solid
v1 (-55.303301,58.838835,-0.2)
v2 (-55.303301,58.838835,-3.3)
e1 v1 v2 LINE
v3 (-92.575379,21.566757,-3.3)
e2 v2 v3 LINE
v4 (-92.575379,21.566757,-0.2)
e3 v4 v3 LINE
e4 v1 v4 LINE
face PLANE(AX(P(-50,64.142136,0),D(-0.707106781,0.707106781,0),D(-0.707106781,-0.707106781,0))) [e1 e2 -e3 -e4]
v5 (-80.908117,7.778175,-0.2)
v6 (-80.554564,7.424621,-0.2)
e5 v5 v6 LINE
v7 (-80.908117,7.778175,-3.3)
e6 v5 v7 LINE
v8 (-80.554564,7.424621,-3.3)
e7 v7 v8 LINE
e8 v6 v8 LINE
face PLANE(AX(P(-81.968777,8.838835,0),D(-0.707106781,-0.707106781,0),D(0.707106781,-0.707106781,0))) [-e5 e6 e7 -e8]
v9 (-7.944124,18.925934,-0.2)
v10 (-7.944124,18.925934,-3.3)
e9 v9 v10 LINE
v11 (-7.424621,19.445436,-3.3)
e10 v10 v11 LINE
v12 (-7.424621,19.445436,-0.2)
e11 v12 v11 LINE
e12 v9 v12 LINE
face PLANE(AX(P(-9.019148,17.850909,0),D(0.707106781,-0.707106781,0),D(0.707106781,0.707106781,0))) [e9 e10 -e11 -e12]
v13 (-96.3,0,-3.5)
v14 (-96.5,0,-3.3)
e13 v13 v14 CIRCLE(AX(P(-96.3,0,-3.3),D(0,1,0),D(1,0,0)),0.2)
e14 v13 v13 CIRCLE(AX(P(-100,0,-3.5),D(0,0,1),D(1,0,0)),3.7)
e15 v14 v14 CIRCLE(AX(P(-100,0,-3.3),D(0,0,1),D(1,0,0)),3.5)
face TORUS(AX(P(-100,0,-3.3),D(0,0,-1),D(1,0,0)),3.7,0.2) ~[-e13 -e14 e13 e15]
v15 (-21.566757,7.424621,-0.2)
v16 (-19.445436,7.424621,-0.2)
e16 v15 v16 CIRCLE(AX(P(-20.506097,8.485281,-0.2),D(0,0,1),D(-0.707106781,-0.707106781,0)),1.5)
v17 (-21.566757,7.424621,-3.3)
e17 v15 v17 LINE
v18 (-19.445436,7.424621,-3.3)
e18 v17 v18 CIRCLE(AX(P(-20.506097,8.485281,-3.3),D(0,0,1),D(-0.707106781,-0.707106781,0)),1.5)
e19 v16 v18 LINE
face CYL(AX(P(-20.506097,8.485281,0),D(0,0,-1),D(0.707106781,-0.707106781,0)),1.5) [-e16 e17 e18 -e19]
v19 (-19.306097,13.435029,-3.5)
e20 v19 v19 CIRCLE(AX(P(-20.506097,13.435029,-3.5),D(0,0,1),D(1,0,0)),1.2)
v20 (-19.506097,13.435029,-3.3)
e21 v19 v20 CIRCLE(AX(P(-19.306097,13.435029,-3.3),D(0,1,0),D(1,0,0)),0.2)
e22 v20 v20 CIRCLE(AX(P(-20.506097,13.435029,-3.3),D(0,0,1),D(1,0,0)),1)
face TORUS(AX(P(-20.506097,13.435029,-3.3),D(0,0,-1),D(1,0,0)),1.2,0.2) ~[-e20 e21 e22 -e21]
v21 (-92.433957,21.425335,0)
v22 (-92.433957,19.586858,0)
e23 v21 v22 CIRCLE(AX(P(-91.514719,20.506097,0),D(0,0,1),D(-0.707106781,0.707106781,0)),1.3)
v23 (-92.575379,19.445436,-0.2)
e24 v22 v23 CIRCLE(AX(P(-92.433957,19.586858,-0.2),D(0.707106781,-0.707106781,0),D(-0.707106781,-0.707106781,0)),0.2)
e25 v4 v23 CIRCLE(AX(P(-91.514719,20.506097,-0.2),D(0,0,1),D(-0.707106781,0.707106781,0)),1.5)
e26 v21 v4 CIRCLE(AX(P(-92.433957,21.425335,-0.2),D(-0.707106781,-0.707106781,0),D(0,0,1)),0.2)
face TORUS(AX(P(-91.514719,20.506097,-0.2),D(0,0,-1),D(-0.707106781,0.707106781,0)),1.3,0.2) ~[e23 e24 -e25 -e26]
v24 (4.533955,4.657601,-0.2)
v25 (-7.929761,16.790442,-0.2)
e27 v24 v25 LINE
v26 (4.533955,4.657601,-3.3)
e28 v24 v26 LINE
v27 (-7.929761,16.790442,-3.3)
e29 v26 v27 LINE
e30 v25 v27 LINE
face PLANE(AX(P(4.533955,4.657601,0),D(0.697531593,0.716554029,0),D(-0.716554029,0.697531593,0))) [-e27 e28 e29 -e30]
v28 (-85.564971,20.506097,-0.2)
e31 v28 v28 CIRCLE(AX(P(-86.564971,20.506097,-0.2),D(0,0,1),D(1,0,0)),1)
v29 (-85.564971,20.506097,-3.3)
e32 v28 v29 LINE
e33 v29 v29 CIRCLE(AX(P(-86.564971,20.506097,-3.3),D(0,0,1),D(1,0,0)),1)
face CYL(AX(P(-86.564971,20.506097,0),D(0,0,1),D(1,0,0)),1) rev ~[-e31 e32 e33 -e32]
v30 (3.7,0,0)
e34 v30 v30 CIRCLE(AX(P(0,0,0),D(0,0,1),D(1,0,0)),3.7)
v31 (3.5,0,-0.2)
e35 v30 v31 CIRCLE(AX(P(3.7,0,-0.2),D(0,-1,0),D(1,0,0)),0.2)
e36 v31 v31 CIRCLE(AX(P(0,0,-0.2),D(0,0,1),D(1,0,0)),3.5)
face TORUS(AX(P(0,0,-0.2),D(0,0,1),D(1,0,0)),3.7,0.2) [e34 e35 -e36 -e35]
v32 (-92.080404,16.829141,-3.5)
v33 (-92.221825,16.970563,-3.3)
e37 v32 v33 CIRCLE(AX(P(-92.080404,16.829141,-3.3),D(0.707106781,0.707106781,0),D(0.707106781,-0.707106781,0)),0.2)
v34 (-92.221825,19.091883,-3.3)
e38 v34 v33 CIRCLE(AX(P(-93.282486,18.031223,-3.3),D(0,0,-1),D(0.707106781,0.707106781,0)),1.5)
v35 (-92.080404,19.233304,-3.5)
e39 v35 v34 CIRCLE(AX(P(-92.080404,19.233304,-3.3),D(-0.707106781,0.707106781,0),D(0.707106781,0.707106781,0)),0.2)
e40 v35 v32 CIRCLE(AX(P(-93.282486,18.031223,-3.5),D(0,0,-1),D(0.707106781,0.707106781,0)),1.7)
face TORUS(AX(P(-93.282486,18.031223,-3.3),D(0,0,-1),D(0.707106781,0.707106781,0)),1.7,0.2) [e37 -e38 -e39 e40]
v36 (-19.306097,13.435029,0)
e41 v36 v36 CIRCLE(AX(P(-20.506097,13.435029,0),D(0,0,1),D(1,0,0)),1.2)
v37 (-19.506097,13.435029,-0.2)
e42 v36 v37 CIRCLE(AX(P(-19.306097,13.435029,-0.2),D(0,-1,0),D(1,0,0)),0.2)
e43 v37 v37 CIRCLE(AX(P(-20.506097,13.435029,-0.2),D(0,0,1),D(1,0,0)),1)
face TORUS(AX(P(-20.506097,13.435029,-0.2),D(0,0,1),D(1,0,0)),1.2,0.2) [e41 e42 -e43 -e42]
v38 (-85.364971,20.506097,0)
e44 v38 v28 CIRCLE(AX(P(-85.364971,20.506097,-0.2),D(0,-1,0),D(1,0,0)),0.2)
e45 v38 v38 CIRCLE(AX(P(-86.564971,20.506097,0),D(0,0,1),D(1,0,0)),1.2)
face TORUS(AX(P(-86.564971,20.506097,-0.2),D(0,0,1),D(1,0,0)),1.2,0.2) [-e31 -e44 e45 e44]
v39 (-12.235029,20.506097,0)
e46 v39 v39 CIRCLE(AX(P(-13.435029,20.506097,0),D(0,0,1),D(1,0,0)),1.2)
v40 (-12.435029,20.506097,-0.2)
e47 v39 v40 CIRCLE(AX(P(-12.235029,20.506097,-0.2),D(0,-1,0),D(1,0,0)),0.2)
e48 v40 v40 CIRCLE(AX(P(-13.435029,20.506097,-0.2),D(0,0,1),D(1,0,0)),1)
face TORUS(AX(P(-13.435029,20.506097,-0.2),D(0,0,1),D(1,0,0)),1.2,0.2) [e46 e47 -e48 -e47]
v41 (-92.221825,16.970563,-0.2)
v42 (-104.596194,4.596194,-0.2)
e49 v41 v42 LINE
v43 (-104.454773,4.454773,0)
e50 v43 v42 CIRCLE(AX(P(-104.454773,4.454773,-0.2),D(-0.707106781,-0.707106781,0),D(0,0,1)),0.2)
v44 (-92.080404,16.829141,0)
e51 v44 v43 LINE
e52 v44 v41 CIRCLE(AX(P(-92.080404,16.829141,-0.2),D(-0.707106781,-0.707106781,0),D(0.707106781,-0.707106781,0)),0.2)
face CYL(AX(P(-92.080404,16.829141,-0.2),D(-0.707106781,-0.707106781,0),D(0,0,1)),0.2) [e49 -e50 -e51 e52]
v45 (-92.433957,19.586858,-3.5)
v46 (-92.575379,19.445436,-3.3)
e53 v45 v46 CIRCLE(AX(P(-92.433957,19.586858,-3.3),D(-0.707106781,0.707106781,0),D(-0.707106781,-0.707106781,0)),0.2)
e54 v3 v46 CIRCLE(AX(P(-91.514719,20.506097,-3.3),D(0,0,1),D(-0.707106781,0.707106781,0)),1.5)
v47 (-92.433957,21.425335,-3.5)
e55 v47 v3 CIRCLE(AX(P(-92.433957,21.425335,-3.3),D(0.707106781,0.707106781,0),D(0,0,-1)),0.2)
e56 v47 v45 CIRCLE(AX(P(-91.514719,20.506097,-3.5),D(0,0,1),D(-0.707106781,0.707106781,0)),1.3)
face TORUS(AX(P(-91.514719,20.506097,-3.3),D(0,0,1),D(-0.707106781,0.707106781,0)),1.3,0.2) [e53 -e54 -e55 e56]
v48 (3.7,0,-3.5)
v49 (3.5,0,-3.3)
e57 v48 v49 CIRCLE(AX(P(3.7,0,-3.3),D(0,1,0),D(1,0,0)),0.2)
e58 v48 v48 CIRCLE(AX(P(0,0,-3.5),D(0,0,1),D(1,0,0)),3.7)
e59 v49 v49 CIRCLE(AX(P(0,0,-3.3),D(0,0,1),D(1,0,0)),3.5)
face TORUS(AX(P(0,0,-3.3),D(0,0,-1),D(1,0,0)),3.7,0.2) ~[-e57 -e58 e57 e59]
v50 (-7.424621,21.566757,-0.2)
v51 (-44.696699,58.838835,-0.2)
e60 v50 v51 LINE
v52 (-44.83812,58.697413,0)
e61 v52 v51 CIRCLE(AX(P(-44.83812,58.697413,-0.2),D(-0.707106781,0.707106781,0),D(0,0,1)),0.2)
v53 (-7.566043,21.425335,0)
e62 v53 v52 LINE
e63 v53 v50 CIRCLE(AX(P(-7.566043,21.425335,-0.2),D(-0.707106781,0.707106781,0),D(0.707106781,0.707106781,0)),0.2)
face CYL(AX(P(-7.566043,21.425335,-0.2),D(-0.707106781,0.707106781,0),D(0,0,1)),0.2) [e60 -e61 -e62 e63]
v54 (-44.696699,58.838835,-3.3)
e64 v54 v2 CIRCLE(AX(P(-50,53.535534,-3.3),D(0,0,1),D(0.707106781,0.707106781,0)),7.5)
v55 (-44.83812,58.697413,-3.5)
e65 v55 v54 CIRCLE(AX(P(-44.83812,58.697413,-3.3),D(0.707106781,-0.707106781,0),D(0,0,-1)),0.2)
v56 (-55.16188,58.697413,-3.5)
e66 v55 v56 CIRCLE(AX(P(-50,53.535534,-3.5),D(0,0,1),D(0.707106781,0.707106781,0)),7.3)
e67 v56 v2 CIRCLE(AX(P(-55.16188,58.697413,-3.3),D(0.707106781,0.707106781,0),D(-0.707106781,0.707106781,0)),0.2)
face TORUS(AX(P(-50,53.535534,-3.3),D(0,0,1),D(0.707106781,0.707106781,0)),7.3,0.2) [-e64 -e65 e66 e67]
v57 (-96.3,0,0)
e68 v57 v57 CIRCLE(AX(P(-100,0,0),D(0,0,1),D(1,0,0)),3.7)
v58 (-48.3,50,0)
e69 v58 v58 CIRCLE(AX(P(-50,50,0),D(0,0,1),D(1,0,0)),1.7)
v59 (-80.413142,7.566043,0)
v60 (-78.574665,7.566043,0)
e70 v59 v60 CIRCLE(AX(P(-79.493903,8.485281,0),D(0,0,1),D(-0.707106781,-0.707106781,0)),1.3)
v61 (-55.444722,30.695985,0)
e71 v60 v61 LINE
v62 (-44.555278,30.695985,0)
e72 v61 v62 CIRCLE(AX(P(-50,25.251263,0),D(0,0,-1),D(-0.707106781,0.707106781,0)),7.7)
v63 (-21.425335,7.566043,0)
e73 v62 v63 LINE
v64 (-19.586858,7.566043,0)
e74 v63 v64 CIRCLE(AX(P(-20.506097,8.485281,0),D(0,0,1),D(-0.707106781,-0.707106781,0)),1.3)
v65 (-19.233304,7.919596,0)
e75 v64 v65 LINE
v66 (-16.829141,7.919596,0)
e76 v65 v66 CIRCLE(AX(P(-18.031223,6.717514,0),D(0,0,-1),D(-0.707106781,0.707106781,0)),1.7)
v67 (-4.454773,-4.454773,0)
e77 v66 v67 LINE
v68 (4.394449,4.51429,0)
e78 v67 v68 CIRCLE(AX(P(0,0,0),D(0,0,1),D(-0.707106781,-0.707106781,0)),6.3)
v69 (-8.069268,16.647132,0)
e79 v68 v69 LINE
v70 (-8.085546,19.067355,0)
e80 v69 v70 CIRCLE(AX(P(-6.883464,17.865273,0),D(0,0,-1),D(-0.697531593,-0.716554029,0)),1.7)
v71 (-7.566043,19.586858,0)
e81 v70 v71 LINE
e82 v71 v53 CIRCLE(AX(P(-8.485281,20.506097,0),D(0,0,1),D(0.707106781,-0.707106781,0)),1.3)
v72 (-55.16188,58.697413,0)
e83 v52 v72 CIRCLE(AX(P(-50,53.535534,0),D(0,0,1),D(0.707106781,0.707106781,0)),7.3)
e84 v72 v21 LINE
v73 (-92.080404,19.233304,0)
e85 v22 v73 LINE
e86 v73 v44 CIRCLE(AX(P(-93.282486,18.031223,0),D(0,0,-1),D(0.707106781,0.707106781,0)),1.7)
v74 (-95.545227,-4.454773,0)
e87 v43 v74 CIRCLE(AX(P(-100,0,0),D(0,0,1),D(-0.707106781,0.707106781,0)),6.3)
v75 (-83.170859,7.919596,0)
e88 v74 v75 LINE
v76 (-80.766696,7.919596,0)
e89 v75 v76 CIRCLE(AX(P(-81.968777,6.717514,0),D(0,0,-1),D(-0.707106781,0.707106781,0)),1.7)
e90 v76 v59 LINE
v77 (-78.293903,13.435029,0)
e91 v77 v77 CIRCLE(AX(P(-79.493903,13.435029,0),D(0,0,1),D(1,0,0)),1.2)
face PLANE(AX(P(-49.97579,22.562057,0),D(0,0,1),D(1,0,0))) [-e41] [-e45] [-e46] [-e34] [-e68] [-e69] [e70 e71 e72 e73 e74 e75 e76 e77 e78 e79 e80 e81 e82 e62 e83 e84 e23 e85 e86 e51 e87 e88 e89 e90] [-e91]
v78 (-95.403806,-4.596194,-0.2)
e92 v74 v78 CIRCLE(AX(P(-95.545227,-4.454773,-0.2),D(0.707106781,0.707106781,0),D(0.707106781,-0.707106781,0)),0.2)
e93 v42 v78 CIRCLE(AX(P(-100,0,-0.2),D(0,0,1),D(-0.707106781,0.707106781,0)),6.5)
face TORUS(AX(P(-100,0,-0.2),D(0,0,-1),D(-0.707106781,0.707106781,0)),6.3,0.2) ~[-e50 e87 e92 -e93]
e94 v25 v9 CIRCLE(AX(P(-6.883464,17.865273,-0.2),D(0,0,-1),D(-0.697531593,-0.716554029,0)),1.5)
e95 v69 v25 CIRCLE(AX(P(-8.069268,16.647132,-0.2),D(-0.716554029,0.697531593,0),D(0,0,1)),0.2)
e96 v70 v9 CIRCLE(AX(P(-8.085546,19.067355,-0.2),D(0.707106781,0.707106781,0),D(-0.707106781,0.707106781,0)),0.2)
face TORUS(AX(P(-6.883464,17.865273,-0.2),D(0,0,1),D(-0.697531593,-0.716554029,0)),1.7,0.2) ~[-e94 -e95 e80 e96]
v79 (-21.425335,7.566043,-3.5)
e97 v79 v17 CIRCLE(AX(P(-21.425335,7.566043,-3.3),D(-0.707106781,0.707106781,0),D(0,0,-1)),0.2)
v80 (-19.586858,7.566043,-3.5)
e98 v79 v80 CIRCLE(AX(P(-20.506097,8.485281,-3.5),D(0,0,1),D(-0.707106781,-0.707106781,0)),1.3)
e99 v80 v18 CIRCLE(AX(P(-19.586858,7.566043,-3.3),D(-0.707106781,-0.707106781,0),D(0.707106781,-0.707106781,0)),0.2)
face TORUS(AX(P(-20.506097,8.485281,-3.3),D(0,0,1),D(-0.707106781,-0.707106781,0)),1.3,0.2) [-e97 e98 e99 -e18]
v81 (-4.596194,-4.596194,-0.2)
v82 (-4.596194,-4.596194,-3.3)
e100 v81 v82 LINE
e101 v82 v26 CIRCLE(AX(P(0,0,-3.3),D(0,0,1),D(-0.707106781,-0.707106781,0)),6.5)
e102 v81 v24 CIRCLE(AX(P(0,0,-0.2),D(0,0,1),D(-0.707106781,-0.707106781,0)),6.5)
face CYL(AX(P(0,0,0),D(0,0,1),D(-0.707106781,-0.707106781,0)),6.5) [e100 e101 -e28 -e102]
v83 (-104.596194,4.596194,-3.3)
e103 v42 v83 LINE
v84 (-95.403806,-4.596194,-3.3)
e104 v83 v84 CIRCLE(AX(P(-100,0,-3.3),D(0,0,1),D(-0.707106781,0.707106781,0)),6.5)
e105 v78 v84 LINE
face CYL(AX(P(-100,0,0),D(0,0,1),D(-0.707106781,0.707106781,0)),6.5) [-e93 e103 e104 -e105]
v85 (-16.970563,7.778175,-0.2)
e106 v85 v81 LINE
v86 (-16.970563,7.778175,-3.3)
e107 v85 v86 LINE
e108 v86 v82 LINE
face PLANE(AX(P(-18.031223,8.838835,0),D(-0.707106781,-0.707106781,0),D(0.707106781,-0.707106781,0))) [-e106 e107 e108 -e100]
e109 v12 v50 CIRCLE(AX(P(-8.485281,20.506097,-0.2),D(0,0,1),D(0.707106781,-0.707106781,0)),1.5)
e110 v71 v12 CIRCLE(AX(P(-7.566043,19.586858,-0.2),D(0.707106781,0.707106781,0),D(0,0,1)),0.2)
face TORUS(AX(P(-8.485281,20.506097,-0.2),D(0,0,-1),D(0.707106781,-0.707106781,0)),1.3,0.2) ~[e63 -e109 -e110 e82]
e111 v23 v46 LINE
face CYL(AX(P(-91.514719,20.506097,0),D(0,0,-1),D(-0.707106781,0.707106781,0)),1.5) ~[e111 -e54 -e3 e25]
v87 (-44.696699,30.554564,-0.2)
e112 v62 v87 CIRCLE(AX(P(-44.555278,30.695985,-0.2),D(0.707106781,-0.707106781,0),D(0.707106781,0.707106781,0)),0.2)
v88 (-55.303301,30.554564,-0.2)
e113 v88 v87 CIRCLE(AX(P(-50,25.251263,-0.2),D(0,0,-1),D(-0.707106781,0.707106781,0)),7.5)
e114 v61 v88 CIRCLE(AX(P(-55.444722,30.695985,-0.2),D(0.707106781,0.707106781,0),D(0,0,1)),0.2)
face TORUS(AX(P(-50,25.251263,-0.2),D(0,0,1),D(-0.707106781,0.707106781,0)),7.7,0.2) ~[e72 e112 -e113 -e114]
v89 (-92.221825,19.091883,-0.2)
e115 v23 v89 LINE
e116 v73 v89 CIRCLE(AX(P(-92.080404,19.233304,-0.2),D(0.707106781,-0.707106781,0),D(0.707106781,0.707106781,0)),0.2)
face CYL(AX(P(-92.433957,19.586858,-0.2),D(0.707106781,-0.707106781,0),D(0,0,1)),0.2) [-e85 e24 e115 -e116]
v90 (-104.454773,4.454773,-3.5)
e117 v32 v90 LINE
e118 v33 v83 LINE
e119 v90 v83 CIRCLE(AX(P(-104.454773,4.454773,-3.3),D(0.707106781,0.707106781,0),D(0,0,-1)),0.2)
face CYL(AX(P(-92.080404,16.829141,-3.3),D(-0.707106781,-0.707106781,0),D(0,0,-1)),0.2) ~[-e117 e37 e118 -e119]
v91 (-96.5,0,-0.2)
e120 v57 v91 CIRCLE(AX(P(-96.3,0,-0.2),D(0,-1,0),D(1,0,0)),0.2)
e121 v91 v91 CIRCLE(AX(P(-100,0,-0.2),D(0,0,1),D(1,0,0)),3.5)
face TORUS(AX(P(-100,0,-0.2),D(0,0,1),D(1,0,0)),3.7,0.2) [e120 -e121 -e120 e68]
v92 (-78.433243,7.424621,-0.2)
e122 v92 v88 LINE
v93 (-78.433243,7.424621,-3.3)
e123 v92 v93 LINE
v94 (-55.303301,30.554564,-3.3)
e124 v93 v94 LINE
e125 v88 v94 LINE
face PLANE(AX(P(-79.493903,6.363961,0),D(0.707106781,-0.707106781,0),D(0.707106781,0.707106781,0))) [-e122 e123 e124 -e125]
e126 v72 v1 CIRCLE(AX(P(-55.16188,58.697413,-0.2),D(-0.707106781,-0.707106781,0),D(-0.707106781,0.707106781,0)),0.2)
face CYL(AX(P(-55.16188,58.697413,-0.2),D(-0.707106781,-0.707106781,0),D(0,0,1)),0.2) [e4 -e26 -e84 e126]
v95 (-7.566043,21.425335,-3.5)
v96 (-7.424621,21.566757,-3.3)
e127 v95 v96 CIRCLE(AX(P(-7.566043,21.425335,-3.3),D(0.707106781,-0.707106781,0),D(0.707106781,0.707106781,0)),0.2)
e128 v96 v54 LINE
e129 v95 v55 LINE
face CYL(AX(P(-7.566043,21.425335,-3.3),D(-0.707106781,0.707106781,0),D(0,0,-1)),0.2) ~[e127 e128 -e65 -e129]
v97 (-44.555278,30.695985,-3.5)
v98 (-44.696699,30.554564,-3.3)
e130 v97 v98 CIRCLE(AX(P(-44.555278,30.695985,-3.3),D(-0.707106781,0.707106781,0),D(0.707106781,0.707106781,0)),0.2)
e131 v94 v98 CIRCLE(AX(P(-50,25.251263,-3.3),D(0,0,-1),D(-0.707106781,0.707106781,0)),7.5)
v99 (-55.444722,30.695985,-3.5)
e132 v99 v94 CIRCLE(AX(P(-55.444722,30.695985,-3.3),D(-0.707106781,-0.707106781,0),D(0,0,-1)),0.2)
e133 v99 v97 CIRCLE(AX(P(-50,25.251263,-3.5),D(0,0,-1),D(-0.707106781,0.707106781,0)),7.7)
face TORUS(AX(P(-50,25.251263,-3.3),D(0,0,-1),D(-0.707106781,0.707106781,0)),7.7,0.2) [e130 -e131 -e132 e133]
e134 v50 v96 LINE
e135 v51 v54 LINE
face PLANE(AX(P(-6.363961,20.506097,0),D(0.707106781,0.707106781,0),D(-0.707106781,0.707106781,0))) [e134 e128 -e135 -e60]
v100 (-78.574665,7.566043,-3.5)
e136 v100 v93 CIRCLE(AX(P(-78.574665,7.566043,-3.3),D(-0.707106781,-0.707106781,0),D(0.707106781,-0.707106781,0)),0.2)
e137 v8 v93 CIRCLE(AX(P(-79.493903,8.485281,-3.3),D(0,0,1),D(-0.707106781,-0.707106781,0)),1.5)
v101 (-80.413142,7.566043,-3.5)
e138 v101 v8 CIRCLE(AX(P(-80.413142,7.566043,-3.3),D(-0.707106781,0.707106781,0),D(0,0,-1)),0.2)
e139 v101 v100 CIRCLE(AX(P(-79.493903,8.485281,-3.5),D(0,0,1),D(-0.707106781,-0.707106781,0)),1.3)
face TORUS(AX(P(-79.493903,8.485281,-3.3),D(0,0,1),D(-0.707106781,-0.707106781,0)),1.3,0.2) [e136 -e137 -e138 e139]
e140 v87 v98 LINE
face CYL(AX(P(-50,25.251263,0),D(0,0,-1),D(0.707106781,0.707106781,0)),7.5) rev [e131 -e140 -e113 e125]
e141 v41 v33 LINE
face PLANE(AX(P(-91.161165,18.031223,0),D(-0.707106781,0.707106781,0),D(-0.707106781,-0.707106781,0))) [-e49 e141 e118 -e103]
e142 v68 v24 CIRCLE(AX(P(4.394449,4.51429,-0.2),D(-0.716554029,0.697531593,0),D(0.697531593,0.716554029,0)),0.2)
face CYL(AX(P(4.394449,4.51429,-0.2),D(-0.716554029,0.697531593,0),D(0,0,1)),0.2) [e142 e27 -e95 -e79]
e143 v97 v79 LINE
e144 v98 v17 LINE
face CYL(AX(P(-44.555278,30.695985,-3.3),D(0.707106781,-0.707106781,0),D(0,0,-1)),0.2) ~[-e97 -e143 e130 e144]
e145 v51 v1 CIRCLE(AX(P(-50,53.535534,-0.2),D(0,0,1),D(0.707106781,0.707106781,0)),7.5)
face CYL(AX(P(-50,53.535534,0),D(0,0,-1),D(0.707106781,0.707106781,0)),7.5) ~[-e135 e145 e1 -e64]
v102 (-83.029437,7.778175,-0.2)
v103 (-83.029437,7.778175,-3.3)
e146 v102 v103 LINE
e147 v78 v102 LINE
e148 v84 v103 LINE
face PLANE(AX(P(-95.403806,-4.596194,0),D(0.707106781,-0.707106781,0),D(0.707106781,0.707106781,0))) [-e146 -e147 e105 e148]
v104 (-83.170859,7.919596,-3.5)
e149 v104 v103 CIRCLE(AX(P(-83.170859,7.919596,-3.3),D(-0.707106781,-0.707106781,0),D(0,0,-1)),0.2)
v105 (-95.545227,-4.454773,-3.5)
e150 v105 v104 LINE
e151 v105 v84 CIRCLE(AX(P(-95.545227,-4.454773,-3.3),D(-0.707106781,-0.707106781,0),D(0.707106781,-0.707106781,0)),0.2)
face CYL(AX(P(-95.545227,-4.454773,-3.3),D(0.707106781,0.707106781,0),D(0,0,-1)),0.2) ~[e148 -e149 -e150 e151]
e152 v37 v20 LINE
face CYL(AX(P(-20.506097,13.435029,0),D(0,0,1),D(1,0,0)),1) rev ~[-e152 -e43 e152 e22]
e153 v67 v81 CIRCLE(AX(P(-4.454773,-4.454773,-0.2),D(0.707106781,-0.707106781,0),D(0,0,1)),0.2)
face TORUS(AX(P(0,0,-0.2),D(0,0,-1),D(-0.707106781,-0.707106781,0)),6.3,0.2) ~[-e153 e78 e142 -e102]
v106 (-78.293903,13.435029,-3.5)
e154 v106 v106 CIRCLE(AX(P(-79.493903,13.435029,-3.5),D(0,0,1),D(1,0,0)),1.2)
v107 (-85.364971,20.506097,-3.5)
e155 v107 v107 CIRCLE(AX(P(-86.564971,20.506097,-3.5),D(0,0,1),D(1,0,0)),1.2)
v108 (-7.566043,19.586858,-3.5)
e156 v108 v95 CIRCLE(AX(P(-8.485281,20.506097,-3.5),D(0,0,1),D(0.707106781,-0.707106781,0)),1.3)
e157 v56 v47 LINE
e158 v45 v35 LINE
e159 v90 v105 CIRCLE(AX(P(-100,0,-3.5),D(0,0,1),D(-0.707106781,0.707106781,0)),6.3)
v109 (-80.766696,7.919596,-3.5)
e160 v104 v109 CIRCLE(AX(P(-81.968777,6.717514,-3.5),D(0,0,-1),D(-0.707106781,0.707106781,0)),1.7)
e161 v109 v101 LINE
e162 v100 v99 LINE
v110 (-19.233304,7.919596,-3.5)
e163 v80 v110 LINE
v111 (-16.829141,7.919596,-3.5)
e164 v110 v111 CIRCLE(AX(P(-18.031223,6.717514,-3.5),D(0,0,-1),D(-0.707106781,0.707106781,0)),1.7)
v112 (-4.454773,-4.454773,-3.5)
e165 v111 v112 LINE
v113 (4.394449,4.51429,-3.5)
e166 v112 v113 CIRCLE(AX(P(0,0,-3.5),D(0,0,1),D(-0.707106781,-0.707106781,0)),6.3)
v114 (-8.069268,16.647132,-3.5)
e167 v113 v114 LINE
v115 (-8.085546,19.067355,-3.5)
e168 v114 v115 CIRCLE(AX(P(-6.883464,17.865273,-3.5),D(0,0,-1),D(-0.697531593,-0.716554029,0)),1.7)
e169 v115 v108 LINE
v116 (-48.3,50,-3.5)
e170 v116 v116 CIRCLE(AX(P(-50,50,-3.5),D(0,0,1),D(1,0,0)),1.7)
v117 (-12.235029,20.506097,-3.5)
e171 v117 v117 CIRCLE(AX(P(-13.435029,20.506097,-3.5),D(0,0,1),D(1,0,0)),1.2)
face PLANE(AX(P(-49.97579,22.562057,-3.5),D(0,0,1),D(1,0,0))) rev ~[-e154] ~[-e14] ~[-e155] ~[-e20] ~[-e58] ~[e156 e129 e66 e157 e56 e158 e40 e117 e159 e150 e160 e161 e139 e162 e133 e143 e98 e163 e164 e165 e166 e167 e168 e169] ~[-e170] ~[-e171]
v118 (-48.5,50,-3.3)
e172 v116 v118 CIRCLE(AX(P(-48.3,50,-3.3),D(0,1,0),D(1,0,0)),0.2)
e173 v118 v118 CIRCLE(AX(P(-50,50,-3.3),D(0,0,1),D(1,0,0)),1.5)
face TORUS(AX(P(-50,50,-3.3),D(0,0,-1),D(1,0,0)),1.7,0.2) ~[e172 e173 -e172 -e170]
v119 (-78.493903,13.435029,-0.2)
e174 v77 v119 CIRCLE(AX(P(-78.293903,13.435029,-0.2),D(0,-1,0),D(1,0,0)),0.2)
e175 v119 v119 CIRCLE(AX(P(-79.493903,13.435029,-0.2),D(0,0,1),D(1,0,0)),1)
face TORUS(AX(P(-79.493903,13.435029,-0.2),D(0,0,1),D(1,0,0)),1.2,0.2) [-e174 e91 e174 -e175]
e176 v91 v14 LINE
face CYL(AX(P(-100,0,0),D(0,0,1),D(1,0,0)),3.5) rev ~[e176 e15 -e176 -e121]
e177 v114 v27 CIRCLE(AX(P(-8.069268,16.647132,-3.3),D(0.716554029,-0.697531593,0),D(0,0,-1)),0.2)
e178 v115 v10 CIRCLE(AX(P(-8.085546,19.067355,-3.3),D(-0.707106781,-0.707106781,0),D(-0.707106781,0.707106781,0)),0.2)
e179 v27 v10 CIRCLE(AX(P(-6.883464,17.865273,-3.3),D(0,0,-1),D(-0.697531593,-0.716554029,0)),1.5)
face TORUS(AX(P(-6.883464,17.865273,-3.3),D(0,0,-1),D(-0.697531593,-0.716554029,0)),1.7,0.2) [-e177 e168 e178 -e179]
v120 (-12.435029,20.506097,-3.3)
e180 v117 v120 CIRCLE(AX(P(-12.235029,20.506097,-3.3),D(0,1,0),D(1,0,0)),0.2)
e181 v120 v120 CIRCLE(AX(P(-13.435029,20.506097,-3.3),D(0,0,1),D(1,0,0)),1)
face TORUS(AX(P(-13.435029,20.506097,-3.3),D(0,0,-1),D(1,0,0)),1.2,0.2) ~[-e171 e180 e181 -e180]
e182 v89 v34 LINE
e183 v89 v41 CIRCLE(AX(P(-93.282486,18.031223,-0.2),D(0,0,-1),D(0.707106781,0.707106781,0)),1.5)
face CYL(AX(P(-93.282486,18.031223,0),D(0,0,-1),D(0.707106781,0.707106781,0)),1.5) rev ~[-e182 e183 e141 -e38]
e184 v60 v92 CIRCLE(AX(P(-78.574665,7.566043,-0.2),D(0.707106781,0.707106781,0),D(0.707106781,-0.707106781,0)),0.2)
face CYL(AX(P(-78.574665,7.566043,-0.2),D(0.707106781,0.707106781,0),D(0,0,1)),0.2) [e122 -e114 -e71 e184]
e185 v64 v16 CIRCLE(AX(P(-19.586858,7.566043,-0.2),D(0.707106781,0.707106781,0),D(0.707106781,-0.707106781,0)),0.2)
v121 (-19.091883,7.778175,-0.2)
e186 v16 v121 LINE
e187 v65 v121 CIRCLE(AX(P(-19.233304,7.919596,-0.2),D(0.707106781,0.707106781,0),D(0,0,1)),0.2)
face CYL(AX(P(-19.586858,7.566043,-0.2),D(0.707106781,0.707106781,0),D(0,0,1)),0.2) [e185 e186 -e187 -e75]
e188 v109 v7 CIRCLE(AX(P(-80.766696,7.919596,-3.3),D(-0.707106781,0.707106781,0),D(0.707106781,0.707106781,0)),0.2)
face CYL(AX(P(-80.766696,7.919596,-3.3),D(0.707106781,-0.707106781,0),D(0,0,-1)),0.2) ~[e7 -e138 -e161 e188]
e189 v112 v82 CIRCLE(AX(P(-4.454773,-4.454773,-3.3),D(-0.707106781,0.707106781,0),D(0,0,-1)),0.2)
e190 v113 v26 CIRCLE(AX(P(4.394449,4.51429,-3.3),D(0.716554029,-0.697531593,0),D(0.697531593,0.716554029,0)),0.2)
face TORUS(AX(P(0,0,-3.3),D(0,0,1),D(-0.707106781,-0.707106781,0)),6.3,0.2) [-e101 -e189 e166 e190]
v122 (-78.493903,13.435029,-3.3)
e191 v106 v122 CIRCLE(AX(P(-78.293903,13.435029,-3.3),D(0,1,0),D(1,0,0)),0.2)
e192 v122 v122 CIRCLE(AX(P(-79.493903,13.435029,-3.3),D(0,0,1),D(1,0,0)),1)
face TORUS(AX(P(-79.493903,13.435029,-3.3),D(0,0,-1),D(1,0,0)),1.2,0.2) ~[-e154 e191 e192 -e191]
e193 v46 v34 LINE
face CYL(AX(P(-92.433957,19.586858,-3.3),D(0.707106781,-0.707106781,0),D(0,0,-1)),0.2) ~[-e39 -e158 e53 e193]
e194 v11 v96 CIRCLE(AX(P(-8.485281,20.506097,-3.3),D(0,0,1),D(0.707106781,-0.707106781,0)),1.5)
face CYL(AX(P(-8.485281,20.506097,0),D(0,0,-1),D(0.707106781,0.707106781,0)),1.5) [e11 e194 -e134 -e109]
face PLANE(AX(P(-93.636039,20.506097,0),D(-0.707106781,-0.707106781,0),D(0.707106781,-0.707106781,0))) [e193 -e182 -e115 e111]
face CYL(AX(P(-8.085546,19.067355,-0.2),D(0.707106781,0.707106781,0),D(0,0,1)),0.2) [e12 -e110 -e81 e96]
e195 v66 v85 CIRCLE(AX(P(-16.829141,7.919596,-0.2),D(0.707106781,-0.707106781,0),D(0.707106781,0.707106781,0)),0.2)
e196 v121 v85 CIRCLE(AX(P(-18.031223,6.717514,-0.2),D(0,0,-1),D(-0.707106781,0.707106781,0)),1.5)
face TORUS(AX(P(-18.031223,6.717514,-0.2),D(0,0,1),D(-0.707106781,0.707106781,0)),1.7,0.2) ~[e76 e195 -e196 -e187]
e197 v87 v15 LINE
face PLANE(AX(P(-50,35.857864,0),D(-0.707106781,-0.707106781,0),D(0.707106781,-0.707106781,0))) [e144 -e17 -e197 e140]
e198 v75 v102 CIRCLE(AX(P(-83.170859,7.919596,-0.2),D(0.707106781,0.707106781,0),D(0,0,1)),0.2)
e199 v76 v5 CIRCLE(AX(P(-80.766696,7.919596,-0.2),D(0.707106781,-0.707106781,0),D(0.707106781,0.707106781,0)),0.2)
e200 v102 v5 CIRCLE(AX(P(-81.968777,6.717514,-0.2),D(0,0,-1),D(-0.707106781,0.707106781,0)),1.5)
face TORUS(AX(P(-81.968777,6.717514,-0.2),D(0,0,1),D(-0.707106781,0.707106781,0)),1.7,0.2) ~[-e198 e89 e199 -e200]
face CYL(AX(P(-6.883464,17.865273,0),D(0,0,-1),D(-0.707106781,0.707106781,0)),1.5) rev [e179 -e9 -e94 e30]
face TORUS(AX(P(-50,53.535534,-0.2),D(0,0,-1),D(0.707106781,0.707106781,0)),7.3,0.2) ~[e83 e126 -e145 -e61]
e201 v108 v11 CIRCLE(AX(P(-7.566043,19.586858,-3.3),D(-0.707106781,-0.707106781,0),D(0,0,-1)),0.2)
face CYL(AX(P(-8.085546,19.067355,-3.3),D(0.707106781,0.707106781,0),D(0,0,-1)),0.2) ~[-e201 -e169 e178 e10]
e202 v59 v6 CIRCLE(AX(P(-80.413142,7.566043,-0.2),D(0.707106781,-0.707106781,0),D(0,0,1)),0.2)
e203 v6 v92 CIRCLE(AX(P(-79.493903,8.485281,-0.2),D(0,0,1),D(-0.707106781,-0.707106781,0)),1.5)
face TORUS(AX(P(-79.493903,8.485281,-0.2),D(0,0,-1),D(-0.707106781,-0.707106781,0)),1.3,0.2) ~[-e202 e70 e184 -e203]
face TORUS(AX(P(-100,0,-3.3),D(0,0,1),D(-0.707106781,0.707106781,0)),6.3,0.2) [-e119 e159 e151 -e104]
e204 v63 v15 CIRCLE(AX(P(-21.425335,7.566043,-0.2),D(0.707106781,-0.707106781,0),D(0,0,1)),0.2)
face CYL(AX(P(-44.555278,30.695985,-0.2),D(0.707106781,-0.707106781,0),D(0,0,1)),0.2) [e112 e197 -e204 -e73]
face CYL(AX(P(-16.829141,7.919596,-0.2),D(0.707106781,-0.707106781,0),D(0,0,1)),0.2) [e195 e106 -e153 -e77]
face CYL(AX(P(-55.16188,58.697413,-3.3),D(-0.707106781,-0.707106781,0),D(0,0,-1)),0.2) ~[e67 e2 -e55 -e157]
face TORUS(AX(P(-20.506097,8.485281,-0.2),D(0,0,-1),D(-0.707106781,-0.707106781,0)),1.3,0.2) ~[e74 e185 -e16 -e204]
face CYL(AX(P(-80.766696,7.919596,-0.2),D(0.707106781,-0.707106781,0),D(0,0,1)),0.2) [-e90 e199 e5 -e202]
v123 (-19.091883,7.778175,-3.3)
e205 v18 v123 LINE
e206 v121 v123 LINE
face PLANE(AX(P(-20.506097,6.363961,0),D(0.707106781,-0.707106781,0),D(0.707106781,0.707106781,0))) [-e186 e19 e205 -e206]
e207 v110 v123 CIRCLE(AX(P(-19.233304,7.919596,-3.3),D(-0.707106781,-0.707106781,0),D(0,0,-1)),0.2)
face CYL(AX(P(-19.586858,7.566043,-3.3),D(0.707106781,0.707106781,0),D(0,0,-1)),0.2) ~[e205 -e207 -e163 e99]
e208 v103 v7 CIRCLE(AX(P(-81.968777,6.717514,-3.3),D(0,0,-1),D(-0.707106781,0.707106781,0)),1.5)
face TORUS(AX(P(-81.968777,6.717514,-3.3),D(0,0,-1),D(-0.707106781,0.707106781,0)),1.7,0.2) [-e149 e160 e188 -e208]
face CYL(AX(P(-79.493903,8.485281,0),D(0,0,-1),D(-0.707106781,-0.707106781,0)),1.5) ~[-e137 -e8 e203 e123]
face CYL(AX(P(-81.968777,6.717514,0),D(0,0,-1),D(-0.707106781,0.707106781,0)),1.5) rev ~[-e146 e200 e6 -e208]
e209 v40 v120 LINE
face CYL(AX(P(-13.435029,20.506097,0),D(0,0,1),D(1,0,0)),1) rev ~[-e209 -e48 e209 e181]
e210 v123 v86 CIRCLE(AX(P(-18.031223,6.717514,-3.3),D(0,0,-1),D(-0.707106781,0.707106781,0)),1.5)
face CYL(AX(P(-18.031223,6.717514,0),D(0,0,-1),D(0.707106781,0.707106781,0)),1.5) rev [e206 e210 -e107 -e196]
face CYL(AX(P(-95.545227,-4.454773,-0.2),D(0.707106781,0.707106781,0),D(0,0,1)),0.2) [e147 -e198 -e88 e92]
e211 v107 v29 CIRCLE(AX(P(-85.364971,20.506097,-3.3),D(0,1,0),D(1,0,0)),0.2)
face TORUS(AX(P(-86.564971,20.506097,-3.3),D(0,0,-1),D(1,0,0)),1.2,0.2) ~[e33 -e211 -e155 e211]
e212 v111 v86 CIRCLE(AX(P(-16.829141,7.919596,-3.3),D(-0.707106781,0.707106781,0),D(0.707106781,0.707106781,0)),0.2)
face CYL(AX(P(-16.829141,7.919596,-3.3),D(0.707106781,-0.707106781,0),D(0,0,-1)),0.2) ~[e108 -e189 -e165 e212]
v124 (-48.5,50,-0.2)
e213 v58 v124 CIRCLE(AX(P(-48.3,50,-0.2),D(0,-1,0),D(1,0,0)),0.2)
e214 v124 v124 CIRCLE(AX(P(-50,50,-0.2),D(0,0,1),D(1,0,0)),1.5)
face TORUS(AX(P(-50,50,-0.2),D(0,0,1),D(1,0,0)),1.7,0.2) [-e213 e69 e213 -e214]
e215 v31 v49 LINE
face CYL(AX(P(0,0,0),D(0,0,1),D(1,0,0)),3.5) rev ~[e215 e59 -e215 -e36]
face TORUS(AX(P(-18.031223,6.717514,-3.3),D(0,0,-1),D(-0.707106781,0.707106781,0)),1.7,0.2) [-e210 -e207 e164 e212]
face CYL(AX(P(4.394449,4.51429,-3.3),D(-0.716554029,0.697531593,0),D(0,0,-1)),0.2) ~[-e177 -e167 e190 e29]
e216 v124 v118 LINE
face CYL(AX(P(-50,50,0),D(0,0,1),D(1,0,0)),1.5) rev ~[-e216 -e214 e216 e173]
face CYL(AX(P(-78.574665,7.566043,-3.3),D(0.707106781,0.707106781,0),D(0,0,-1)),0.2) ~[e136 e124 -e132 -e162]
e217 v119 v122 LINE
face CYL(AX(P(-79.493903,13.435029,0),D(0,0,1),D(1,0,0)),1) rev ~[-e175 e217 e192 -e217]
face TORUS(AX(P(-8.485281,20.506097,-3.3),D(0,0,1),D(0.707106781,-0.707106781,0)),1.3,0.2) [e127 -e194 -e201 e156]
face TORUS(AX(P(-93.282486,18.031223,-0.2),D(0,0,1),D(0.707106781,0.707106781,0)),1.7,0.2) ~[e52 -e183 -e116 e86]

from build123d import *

# Parameters (mm, degrees)
SKETCH5_R           = 3.5
SKETCH5_R_2         = 1
SKETCH5_R_3         = 1.5
BOSS_EXTRUDE1_DEPTH = 3.5
FILLET1_R           = 7.5
FILLET2_R           = 1.5
FILLET3_R           = 0.2


with BuildPart() as part:
    # Sketch5 → Boss-Extrude1 (new body)
    with BuildSketch(Plane.XY):
        with BuildLine():
            Line((4.533955357, 4.657601188), (-9.019148409, 17.850909276))
            Line((-9.019148409, 17.850909276), (-6.363961031, 20.506096654))
            Line((-6.363961031, 20.506096654), (-50, 64.142135624))
            Line((-50, 64.142135624), (-93.636038969, 20.506096654))
            Line((-93.636038969, 20.506096654), (-91.161165235, 18.03122292))
            Line((-91.161165235, 18.03122292), (-104.596194078, 4.596194078))
            ThreePointArc((-104.596194078, 4.596194078), (-104.596194078, -4.596194078), (-95.403805922, -4.596194078))
            Line((-95.403805922, -4.596194078), (-81.96877708, 8.838834765))
            Line((-81.96877708, 8.838834765), (-79.493903346, 6.363961031))
            Line((-79.493903346, 6.363961031), (-50, 35.857864376))
            Line((-50, 35.857864376), (-20.506096654, 6.363961031))
            Line((-20.506096654, 6.363961031), (-18.03122292, 8.838834765))
            Line((-18.03122292, 8.838834765), (-4.596194078, -4.596194078))
            ThreePointArc((-4.596194078, -4.596194078), (4.627002282, -4.565177968), (4.533955357, 4.657601188))
        make_face()
        Circle(SKETCH5_R, mode=Mode.SUBTRACT)
        with Locations((-100, 0)):
            Circle(SKETCH5_R, mode=Mode.SUBTRACT)
        with Locations((-13.435028843, 20.506096654)):
            Circle(SKETCH5_R_2, mode=Mode.SUBTRACT)
        with Locations((-20.506096654, 13.435028843)):
            Circle(SKETCH5_R_2, mode=Mode.SUBTRACT)
        with Locations((-79.493903346, 13.435028843)):
            Circle(SKETCH5_R_2, mode=Mode.SUBTRACT)
        with Locations((-86.564971157, 20.506096654)):
            Circle(SKETCH5_R_2, mode=Mode.SUBTRACT)
        with Locations((-50, 50)):
            Circle(SKETCH5_R_3, mode=Mode.SUBTRACT)
    extrude(amount=-BOSS_EXTRUDE1_DEPTH)

    # Fillet1
    fillet1_edges = [part.edges().sort_by_distance(p)[0] for p in [
        (-50, 64.142135624, -1.75),
        (-50, 35.857864376, -1.75),
    ]]
    fillet(fillet1_edges, radius=FILLET1_R)

    # Fillet2
    fillet2_edges = [part.edges().sort_by_distance(p)[0] for p in [
        (-81.96877708, 8.838834765, -1.75),
        (-91.161165235, 18.03122292, -1.75),
        (-93.636038969, 20.506096654, -1.75),
        (-6.363961031, 20.506096654, -1.75),
        (-9.019148409, 17.850909276, -1.75),
        (-18.03122292, 8.838834765, -1.75),
        (-20.506096654, 6.363961031, -1.75),
        (-79.493903346, 6.363961031, -1.75),
    ]]
    fillet(fillet2_edges, radius=FILLET2_R)

    # Fillet3
    fillet3_edges = [part.edges().sort_by_distance(p)[0] for p in [
        (-91.782485579, 18.03122292, 0),
        (-91.782485579, 18.03122292, -3.5),
        (-81.96877708, 8.217514421, 0),
        (-81.96877708, 8.217514421, -3.5),
        (-18.03122292, 8.217514421, 0),
        (-18.03122292, 8.217514421, -3.5),
        (-8.383430059, 17.855184959, 0),
        (-8.383430059, 17.855184959, -3.5),
        (-89.216621587, 1.590990258, 0),
        (-104.596194078, -4.596194078, 0),
        (-1.697903009, 10.724021751, 0),
        (4.627002282, -4.565177968, 0),
        (4.627002282, -4.565177968, -3.5),
        (-1.697903009, 10.724021751, -3.5),
        (-3.5, 0, -3.5),
        (-3.5, 0, 0),
        (-103.5, 0, -3.5),
        (-103.5, 0, 0),
        (-104.596194078, -4.596194078, -3.5),
        (-14.435028843, 20.506096654, -3.5),
        (-14.435028843, 20.506096654, 0),
        (-89.216621587, 1.590990258, -3.5),
        (-21.506096654, 13.435028843, -3.5),
        (-21.506096654, 13.435028843, 0),
        (-80.493903346, 13.435028843, -3.5),
        (-80.493903346, 13.435028843, 0),
        (-87.564971157, 20.506096654, -3.5),
        (-87.564971157, 20.506096654, 0),
        (-51.5, 50, -3.5),
        (-51.5, 50, 0),
        (-33.131727984, 18.98959236, 0),
        (-73.939339828, 40.202795796, 0),
        (-50, 61.035533906, 0),
        (-73.939339828, 40.202795796, -3.5),
        (-33.131727984, 18.98959236, -3.5),
        (-50, 61.035533906, -3.5),
        (-50, 32.751262658, 0),
        (-50, 32.751262658, -3.5),
        (-26.060660172, 40.202795796, 0),
        (-92.398602102, 19.268659787, 0),
        (-98.409009742, 10.783378413, 0),
        (-80.731340213, 7.601397898, 0),
        (-66.868272016, 18.98959236, 0),
        (-19.268659787, 7.601397898, 0),
        (-10.783378413, 1.590990258, 0),
        (-7.684372679, 19.185685006, 0),
        (-6.985281374, 20.506096654, 0),
        (-20.506096654, 6.985281374, 0),
        (-79.493903346, 6.985281374, 0),
        (-93.014718626, 20.506096654, 0),
        (-92.398602102, 19.268659787, -3.5),
        (-26.060660172, 40.202795796, -3.5),
        (-7.684372679, 19.185685006, -3.5),
        (-10.783378413, 1.590990258, -3.5),
        (-19.268659787, 7.601397898, -3.5),
        (-66.868272016, 18.98959236, -3.5),
        (-80.731340213, 7.601397898, -3.5),
        (-98.409009742, 10.783378413, -3.5),
        (-6.985281374, 20.506096654, -3.5),
        (-20.506096654, 6.985281374, -3.5),
        (-79.493903346, 6.985281374, -3.5),
        (-93.014718626, 20.506096654, -3.5),
    ]]
    fillet(fillet3_edges, radius=FILLET3_R)


solid = part.part
